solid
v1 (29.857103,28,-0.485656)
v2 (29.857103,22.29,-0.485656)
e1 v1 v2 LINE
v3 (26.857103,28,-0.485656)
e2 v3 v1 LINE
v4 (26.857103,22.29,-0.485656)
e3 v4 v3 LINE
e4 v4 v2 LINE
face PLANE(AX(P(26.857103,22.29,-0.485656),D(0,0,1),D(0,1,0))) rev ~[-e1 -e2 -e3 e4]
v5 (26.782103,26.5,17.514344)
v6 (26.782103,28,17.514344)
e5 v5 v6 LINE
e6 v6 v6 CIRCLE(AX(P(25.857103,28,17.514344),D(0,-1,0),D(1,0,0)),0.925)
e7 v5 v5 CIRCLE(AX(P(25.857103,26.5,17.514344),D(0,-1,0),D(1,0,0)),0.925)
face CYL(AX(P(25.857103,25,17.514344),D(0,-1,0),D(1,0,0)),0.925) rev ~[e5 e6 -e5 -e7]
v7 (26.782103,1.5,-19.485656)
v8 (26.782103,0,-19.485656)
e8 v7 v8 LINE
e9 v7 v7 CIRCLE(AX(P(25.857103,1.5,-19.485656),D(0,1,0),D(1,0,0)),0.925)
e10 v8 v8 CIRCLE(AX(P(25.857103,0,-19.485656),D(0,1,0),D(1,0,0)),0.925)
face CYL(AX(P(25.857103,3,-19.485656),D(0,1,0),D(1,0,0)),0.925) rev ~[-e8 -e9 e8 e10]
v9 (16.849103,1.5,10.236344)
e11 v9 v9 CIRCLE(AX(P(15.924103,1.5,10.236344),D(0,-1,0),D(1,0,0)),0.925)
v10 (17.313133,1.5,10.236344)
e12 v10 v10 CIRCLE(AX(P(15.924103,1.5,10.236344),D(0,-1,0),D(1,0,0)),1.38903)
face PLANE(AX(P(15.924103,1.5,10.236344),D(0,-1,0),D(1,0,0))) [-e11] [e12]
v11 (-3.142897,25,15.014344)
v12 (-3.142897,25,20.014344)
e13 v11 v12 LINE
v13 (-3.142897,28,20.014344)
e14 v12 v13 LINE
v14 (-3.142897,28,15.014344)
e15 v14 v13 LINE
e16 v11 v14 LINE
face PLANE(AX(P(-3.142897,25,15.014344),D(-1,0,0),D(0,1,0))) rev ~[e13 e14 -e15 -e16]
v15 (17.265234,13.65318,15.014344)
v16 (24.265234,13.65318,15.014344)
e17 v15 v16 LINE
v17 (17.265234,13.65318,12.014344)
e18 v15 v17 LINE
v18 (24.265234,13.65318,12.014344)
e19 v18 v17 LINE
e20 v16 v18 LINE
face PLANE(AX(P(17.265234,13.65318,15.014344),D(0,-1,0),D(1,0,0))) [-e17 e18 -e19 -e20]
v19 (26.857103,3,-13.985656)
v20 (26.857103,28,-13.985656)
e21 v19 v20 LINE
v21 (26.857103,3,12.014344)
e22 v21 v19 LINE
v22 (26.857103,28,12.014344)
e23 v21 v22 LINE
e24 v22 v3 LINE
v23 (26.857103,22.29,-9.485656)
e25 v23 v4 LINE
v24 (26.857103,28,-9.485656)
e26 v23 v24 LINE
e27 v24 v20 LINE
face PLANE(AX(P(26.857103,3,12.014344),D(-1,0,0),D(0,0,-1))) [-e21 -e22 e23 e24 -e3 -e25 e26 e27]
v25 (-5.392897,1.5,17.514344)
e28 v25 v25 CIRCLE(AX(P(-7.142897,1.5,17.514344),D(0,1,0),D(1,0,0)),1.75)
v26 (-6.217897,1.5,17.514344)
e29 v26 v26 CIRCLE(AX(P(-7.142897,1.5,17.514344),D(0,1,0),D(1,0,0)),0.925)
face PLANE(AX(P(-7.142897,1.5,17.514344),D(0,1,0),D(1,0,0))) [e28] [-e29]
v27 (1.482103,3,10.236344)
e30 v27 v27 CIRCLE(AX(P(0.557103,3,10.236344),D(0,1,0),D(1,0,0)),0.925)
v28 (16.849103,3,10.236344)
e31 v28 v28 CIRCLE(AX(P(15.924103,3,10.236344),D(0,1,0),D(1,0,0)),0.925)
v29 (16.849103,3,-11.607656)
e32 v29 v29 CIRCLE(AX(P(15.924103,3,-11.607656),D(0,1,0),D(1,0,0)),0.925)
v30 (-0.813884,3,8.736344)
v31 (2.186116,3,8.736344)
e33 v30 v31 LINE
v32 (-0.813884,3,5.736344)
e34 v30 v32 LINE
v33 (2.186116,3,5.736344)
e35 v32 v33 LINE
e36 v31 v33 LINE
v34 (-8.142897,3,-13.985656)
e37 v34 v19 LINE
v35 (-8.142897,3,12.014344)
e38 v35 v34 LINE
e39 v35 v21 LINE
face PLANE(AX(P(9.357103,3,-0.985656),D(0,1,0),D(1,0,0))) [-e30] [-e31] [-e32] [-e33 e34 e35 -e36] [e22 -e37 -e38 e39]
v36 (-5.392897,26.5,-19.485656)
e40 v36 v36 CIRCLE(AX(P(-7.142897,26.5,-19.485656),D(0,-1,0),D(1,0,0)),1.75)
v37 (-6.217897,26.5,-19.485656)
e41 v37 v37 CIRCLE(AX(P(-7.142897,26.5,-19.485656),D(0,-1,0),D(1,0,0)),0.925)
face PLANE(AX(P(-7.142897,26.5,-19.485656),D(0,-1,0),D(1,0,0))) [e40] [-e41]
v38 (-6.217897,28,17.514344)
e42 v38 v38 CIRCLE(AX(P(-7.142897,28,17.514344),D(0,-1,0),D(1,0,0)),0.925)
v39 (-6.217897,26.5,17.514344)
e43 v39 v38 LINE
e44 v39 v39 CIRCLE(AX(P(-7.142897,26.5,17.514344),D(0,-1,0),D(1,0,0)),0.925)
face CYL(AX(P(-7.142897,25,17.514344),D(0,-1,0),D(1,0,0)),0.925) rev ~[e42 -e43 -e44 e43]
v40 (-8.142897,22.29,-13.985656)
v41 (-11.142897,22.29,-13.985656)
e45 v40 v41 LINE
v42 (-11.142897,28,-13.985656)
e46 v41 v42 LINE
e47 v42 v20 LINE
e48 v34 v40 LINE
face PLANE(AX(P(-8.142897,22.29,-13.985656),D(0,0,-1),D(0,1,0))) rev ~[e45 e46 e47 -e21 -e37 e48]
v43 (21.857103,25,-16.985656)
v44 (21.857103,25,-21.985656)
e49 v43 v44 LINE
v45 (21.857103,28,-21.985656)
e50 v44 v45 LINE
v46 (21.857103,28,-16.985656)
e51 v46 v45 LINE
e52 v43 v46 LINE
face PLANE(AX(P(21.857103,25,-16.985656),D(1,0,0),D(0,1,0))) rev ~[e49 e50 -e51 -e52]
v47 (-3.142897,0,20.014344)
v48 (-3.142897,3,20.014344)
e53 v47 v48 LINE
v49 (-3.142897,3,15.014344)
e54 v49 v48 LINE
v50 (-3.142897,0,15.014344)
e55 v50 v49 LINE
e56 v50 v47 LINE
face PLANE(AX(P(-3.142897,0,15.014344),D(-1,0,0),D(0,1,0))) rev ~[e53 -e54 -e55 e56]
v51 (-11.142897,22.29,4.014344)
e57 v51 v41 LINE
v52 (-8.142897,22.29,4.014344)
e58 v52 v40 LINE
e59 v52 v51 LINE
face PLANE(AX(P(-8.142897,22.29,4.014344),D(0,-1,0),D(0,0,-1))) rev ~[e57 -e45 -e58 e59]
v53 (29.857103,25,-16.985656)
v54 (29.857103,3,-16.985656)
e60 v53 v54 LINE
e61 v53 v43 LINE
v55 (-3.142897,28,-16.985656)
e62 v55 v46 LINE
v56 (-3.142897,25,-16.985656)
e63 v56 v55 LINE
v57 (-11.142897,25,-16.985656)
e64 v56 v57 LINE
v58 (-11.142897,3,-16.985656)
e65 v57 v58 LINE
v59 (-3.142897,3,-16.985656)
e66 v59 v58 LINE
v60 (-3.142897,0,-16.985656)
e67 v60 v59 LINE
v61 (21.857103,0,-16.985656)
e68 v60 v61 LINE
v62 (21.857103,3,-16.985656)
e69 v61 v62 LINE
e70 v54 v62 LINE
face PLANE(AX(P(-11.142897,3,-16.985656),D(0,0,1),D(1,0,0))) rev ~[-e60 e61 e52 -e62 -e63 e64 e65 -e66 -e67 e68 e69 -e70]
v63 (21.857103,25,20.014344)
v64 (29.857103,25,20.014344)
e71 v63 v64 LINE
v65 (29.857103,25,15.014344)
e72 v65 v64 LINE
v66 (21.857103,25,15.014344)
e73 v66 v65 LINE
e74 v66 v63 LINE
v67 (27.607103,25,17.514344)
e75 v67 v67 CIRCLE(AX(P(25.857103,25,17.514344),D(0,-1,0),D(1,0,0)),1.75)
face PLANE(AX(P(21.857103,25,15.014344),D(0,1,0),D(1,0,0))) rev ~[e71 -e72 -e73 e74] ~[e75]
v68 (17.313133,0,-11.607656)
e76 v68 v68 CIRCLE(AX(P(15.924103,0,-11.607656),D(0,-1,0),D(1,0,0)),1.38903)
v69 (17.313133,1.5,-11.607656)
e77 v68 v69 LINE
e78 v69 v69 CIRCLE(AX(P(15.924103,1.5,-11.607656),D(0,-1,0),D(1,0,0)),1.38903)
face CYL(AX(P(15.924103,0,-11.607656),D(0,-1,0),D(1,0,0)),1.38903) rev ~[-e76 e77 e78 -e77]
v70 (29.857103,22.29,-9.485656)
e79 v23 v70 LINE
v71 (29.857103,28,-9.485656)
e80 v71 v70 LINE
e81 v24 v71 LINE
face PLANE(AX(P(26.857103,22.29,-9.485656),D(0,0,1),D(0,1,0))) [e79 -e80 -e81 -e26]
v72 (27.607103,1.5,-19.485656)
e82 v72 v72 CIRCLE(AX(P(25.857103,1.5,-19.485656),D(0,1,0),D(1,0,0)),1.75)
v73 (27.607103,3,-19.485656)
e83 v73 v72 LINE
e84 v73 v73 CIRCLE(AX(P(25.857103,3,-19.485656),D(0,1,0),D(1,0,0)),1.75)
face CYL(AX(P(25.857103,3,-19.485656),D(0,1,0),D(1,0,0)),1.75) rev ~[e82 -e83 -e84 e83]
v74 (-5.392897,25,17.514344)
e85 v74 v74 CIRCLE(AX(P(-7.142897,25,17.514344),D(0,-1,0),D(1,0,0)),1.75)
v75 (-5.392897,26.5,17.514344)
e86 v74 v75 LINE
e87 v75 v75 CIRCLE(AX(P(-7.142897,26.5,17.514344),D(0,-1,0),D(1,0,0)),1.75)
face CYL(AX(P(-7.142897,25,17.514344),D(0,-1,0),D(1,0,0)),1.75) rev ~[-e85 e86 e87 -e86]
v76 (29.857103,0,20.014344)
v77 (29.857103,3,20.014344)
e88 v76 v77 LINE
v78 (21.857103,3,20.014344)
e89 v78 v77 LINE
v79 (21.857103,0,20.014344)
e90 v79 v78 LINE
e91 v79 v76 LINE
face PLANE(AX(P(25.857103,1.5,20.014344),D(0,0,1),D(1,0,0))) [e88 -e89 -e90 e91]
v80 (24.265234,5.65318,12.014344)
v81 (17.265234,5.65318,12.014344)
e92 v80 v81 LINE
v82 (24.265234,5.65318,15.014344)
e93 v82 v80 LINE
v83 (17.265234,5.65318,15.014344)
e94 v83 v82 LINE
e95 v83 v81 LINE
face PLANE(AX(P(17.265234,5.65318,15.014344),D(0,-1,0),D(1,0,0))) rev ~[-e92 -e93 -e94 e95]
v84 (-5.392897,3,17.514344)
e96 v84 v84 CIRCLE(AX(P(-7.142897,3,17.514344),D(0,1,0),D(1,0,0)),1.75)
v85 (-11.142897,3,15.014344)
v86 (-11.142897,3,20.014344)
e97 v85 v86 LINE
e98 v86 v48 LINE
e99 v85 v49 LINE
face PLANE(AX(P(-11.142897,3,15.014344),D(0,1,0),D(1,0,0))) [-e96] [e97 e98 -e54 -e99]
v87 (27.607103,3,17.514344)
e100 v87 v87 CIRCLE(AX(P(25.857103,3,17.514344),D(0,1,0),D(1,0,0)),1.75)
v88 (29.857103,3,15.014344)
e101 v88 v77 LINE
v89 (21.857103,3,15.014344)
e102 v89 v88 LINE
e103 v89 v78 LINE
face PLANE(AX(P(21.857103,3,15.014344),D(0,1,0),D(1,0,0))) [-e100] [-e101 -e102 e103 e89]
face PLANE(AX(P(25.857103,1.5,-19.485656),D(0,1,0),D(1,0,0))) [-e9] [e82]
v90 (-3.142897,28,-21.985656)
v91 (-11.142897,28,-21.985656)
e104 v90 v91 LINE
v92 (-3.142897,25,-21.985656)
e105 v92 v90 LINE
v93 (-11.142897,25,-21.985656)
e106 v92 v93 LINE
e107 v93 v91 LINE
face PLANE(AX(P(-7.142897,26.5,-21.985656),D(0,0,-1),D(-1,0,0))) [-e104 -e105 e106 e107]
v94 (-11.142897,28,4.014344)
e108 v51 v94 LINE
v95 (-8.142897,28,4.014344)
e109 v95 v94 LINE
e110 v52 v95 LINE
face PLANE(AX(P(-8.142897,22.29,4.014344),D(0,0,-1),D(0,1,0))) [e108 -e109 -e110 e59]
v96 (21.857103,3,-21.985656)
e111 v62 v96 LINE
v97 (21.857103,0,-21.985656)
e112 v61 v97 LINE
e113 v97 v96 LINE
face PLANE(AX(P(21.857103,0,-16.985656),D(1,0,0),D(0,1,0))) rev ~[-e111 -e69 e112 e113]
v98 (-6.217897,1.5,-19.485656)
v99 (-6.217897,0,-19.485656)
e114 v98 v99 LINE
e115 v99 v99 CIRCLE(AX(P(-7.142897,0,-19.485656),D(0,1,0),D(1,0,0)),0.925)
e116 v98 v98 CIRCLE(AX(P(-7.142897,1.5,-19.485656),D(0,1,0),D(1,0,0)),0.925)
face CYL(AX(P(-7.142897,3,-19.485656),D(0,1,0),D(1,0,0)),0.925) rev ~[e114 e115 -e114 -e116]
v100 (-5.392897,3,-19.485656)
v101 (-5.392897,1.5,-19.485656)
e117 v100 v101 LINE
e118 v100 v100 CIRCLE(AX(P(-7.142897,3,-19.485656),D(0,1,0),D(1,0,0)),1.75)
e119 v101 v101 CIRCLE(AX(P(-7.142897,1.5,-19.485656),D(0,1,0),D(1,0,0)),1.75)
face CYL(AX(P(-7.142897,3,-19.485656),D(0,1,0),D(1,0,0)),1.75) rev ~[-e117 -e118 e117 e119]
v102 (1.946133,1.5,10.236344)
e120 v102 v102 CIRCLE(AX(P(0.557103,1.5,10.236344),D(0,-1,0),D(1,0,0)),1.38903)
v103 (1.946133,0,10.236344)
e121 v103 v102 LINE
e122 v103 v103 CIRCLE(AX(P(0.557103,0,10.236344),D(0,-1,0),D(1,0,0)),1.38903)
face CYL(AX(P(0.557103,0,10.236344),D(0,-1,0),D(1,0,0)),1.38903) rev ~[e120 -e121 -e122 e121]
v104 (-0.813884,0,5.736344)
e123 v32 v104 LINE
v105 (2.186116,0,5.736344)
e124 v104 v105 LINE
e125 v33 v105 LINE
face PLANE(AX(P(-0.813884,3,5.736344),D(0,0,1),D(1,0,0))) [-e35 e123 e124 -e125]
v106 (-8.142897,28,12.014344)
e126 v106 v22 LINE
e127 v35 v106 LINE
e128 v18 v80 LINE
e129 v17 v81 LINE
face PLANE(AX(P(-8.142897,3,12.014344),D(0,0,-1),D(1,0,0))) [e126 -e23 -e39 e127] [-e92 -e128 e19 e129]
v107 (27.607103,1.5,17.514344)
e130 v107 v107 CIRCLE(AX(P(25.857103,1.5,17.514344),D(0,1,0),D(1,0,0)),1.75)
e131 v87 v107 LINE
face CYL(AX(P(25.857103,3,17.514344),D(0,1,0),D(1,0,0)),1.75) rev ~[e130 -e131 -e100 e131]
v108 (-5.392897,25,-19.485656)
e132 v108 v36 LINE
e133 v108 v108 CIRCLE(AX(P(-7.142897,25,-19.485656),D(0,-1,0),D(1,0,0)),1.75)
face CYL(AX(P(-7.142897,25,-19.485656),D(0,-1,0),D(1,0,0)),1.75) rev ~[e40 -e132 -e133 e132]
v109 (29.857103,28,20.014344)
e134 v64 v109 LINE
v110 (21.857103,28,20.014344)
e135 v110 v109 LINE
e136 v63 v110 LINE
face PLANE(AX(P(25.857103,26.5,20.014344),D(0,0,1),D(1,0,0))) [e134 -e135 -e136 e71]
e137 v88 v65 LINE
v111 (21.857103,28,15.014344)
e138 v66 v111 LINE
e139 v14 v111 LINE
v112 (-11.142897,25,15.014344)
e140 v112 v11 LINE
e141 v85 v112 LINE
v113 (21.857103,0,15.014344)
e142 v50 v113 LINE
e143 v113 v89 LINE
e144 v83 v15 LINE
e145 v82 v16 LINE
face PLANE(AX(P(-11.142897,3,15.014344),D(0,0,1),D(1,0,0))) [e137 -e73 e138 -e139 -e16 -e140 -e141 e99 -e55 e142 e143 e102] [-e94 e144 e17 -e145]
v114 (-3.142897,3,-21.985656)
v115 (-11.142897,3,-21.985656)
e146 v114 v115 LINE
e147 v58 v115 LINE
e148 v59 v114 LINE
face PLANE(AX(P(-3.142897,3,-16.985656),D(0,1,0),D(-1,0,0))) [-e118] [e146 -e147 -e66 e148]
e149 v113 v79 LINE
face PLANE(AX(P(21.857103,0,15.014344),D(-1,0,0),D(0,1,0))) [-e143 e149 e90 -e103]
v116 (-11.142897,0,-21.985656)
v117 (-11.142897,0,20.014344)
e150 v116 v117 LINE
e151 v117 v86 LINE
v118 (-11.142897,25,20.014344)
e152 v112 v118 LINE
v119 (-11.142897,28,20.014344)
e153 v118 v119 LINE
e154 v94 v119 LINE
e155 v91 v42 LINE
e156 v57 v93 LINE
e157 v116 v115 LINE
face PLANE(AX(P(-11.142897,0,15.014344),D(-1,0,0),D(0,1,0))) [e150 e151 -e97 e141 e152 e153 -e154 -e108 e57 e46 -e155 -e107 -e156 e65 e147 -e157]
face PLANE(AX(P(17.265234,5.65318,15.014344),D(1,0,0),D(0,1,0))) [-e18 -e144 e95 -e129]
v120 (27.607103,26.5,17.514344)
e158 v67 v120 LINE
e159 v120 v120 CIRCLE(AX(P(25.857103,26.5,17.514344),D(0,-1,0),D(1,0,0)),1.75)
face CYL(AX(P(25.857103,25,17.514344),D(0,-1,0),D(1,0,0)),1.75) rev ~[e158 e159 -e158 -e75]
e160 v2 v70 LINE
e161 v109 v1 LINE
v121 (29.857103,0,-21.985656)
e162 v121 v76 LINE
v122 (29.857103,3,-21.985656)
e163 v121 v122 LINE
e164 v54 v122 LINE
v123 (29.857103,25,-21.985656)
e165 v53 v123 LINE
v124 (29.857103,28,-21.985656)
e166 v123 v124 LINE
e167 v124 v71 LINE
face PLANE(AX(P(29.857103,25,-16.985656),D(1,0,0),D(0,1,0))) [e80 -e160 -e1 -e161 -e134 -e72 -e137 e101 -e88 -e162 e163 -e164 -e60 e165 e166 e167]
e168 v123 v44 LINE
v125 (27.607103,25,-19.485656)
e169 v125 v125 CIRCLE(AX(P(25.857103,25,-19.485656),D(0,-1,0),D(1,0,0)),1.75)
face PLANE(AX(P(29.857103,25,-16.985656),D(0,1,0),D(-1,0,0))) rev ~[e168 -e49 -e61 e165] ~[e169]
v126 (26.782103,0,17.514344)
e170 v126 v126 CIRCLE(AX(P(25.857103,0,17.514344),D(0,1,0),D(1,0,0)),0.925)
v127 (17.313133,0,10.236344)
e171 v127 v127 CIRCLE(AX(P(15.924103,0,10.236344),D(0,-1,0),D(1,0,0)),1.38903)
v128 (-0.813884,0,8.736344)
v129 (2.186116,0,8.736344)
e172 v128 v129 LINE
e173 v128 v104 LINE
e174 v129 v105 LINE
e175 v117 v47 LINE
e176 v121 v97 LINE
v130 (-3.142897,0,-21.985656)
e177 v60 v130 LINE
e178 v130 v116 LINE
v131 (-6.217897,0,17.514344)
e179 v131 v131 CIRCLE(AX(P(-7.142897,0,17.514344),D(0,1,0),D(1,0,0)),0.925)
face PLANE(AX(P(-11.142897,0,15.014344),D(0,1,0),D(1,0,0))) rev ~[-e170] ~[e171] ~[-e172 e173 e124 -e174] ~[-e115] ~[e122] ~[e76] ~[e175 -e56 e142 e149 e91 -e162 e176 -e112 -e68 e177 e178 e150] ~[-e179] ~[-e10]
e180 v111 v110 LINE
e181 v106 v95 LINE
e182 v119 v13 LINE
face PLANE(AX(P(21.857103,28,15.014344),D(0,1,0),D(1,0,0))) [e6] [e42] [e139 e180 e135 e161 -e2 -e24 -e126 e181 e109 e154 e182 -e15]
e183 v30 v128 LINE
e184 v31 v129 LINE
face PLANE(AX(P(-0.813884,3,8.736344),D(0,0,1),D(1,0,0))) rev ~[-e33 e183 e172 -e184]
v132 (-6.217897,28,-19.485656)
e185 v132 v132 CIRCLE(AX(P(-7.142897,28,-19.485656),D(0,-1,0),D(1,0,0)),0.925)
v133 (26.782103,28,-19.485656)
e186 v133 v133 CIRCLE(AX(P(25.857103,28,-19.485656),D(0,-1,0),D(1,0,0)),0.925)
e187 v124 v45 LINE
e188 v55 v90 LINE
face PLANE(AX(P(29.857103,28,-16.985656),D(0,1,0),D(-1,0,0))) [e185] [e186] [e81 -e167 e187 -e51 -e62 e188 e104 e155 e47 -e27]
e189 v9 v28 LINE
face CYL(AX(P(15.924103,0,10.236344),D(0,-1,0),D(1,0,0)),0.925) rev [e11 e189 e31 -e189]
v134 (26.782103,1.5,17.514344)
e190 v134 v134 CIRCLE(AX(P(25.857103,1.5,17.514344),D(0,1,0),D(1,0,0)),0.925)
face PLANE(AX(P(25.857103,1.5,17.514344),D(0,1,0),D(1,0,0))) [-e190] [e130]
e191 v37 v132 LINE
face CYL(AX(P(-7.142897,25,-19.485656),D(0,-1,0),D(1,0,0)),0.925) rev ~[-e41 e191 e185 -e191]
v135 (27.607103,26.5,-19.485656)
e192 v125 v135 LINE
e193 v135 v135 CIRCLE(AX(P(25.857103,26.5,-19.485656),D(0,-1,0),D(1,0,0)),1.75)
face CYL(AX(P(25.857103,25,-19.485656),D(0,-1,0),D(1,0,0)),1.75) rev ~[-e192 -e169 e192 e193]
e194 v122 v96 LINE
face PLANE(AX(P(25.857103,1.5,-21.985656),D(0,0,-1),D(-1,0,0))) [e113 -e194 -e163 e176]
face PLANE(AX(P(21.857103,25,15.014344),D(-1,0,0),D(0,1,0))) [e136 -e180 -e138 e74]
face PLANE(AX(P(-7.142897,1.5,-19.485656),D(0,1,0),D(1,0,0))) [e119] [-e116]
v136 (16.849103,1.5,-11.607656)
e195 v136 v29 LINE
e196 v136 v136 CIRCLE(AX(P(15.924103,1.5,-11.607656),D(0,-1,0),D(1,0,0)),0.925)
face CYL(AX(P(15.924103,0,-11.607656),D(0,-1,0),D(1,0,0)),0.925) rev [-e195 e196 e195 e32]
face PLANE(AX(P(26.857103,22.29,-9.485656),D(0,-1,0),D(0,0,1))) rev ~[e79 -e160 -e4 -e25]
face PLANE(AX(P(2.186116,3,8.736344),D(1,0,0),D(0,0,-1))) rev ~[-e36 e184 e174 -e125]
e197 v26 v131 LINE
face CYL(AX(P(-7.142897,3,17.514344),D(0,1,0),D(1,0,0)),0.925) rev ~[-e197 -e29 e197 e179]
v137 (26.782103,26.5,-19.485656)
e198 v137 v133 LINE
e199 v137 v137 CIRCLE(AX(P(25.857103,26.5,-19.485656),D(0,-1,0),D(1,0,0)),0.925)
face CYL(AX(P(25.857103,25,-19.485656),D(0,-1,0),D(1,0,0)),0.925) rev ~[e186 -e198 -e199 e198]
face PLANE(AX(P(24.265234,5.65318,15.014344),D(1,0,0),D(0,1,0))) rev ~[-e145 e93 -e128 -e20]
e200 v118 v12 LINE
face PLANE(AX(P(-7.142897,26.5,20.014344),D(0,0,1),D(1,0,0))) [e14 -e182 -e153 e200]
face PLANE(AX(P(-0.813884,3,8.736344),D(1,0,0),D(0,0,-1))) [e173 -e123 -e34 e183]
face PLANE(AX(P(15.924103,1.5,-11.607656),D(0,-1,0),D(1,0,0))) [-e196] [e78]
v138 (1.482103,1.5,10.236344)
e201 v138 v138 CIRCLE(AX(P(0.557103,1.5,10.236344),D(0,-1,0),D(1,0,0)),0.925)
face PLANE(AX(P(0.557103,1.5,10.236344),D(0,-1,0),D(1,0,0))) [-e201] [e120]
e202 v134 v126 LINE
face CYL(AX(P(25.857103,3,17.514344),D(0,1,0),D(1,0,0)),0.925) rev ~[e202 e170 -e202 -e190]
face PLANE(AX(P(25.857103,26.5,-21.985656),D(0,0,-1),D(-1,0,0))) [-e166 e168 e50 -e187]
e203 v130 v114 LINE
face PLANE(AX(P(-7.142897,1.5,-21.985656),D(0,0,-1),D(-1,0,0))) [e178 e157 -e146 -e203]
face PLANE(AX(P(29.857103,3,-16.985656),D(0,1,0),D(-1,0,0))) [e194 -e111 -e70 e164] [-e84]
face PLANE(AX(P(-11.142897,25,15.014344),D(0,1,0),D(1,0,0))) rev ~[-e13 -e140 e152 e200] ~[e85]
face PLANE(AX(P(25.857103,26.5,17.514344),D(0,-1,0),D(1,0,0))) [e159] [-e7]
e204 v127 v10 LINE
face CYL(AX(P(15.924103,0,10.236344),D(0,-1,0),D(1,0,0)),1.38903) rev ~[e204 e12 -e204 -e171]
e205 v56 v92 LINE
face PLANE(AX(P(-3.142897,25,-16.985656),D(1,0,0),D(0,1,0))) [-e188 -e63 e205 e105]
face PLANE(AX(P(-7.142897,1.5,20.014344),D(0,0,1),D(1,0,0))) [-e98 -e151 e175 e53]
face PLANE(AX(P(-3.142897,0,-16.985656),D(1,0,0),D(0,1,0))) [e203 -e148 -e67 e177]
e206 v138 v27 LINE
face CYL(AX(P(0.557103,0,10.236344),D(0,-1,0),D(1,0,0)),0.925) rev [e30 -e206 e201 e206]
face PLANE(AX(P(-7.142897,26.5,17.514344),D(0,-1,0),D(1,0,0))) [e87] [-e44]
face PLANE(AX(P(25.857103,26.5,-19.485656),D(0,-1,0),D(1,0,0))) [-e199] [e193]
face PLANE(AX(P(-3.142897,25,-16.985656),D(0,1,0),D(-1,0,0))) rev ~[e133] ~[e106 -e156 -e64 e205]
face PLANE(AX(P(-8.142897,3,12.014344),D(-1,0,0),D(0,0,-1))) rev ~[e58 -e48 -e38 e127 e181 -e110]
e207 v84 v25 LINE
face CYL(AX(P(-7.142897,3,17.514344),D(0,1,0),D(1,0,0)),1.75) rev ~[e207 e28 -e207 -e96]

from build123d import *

# Parameters (mm, degrees)
SKETCH1_W                = 35
SKETCH1_H                = 26
SKETCH1_R                = 0.925
BOSS_EXTRUDE1_DEPTH      = 3
SKETCH2_R                = 1.389029916
CUT_EXTRUDE4_DEPTH       = 1.5
SKETCH3_W                = 41
SKETCH3_H                = 32
SKETCH3_W_2              = 35
SKETCH3_H_2              = 26
BOSS_EXTRUDE2_DEPTH      = 25
BOSS_EXTRUDE2_DEPTH_BACK = 3
SKETCH4_W                = 18
SKETCH4_H                = 5.71
CUT_EXTRUDE5_DEPTH       = 25
SKETCH5_W                = 9
SKETCH5_H                = 5.71
CUT_EXTRUDE6_DEPTH       = 25
SKETCH6_W                = 3
SKETCH6_H                = 3
CUT_EXTRUDE7_DEPTH       = 25
SKETCH8_W                = 7
SKETCH8_H                = 8
CUT_EXTRUDE8_DEPTH       = 25
SKETCH9_W                = 8
SKETCH9_H                = 3
BOSS_EXTRUDE3_DEPTH      = 5
SKETCH10_W               = 8
SKETCH10_H               = 3
BOSS_EXTRUDE4_DEPTH      = 5
SKETCH11_R               = 0.925
CUT_EXTRUDE9_DEPTH       = 5
SKETCH12_R               = 1.75
CUT_EXTRUDE10_DEPTH      = 1.5
SKETCH13_W               = 8
SKETCH13_H               = 3
BOSS_EXTRUDE5_DEPTH      = 5
SKETCH14_W               = 8
SKETCH14_H               = 3
BOSS_EXTRUDE6_DEPTH      = 5
SKETCH15_R               = 0.925
CUT_EXTRUDE11_DEPTH      = 5
SKETCH17_R               = 1.75
CUT_EXTRUDE13_DEPTH      = 1.5


with BuildPart() as part:
    # Sketch1 → Boss-Extrude1 (new body)
    with BuildSketch(Plane(origin=(0, 0, 0), x_dir=(1, 0, 0), z_dir=(0, 1, 0))):
        with Locations((9.357103431, 0.985655738)):
            Rectangle(SKETCH1_W, SKETCH1_H)
        with Locations((0.557103431, -10.236344262)):
            Circle(SKETCH1_R, mode=Mode.SUBTRACT)
        with Locations((15.924103431, -10.236344262)):
            Circle(SKETCH1_R, mode=Mode.SUBTRACT)
        with Locations((15.924103431, 11.607655738)):
            Circle(SKETCH1_R, mode=Mode.SUBTRACT)
    extrude(amount=BOSS_EXTRUDE1_DEPTH)

    # Sketch2 → Cut-Extrude4 (cut)
    with BuildSketch(Plane.XZ):
        with Locations((0.557103431, 10.236344262)):
            Circle(SKETCH2_R)
        with Locations((15.924103431, 10.236344262)):
            Circle(SKETCH2_R)
        with Locations((15.924103431, -11.607655738)):
            Circle(SKETCH2_R)
    extrude(amount=-CUT_EXTRUDE4_DEPTH, mode=Mode.SUBTRACT)

    # Sketch3 → Boss-Extrude2 (add, two sides)
    with BuildSketch(Plane(origin=(0, 3, 0), x_dir=(1, 0, 0), z_dir=(0, 1, 0))) as boss_extrude2_sk:
        with Locations((9.357103431, 0.985655738)):
            Rectangle(SKETCH3_W, SKETCH3_H)
        with Locations((9.357103431, 0.985655738)):
            Rectangle(SKETCH3_W_2, SKETCH3_H_2, mode=Mode.SUBTRACT)
    extrude(amount=BOSS_EXTRUDE2_DEPTH)
    extrude(boss_extrude2_sk.sketch, amount=-BOSS_EXTRUDE2_DEPTH_BACK)

    # Sketch4 → Cut-Extrude5 (cut)
    with BuildSketch(Plane(origin=(-8.142896569, 0, 0), x_dir=(0, 0, -1), z_dir=(1, 0, 0))):
        with Locations((4.985655738, 25.145)):
            Rectangle(SKETCH4_W, SKETCH4_H)
    extrude(amount=-CUT_EXTRUDE5_DEPTH, mode=Mode.SUBTRACT)

    # Sketch5 → Cut-Extrude6 (cut)
    with BuildSketch(Plane.ZY.offset(-26.857103431)):
        with Locations((-4.985655738, 25.145)):
            Rectangle(SKETCH5_W, SKETCH5_H)
    extrude(amount=-CUT_EXTRUDE6_DEPTH, mode=Mode.SUBTRACT)

    # Sketch6 → Cut-Extrude7 (cut)
    with BuildSketch(Plane(origin=(0, 3, 0), x_dir=(1, 0, 0), z_dir=(0, 1, 0))):
        with Locations((0.68611622, -7.236344262)):
            Rectangle(SKETCH6_W, SKETCH6_H)
    extrude(amount=-CUT_EXTRUDE7_DEPTH, mode=Mode.SUBTRACT)

    # Sketch8 → Cut-Extrude8 (cut)
    with BuildSketch(Plane.XY.offset(15.014344262)):
        with Locations((20.765233628, 9.653180084)):
            Rectangle(SKETCH8_W, SKETCH8_H)
    extrude(amount=-CUT_EXTRUDE8_DEPTH, mode=Mode.SUBTRACT)

    # Sketch9 → Boss-Extrude3 (add)
    with BuildSketch(Plane(origin=(0, 0, -16.985655738), x_dir=(-1, 0, 0), z_dir=(0, 0, -1))):
        with Locations((7.142896569, 1.5)):
            Rectangle(SKETCH9_W, SKETCH9_H)
        with Locations((-25.857103431, 1.5)):
            Rectangle(SKETCH9_W, SKETCH9_H)
    extrude(amount=BOSS_EXTRUDE3_DEPTH)

    # Sketch10 → Boss-Extrude4 (add)
    with BuildSketch(Plane.XY.offset(15.014344262)):
        with Locations((-7.142896569, 1.5)):
            Rectangle(SKETCH10_W, SKETCH10_H)
        with Locations((25.857103431, 1.5)):
            Rectangle(SKETCH10_W, SKETCH10_H)
    extrude(amount=BOSS_EXTRUDE4_DEPTH)

    # Sketch11 → Cut-Extrude9 (cut)
    with BuildSketch(Plane(origin=(0, 3, 0), x_dir=(1, 0, 0), z_dir=(0, 1, 0))):
        with Locations((-7.142896569, -17.514344262)):
            Circle(SKETCH11_R)
        with Locations((25.857103431, -17.514344262)):
            Circle(SKETCH11_R)
        with Locations((25.857103431, 19.485655738)):
            Circle(SKETCH11_R)
        with Locations((-7.142896569, 19.485655738)):
            Circle(SKETCH11_R)
    extrude(amount=-CUT_EXTRUDE9_DEPTH, mode=Mode.SUBTRACT)

    # Sketch12 → Cut-Extrude10 (cut)
    with BuildSketch(Plane(origin=(0, 3, 0), x_dir=(1, 0, 0), z_dir=(0, 1, 0))):
        with Locations((-7.142896569, -17.514344262)):
            Circle(SKETCH12_R)
        with Locations((-7.142896569, 19.485655738)):
            Circle(SKETCH12_R)
        with Locations((25.857103431, 19.485655738)):
            Circle(SKETCH12_R)
        with Locations((25.857103431, -17.514344262)):
            Circle(SKETCH12_R)
    extrude(amount=-CUT_EXTRUDE10_DEPTH, mode=Mode.SUBTRACT)

    # Sketch13 → Boss-Extrude5 (add)
    with BuildSketch(Plane.XY.offset(15.014344262)):
        with Locations((25.857103431, 26.5)):
            Rectangle(SKETCH13_W, SKETCH13_H)
        with Locations((-7.142896569, 26.5)):
            Rectangle(SKETCH13_W, SKETCH13_H)
    extrude(amount=BOSS_EXTRUDE5_DEPTH)

    # Sketch14 → Boss-Extrude6 (add)
    with BuildSketch(Plane(origin=(0, 0, -16.985655738), x_dir=(-1, 0, 0), z_dir=(0, 0, -1))):
        with Locations((-25.857103431, 26.5)):
            Rectangle(SKETCH14_W, SKETCH14_H)
        with Locations((7.142896569, 26.5)):
            Rectangle(SKETCH14_W, SKETCH14_H)
    extrude(amount=BOSS_EXTRUDE6_DEPTH)

    # Sketch15 → Cut-Extrude11 (cut)
    with BuildSketch(Plane.XZ.offset(-25)):
        with Locations((25.857103431, 17.514344262)):
            Circle(SKETCH15_R)
        with Locations((-7.142896569, 17.514344262)):
            Circle(SKETCH15_R)
        with Locations((25.857103431, -19.485655738)):
            Circle(SKETCH15_R)
        with Locations((-7.142896569, -19.485655738)):
            Circle(SKETCH15_R)
    extrude(amount=-CUT_EXTRUDE11_DEPTH, mode=Mode.SUBTRACT)

    # Sketch17 → Cut-Extrude13 (cut)
    with BuildSketch(Plane.XZ.offset(-25)):
        with Locations((25.857103431, -19.485655738)):
            Circle(SKETCH17_R)
        with Locations((25.857103431, 17.514344262)):
            Circle(SKETCH17_R)
        with Locations((-7.142896569, 17.514344262)):
            Circle(SKETCH17_R)
        with Locations((-7.142896569, -19.485655738)):
            Circle(SKETCH17_R)
    extrude(amount=-CUT_EXTRUDE13_DEPTH, mode=Mode.SUBTRACT)


solid = part.part
